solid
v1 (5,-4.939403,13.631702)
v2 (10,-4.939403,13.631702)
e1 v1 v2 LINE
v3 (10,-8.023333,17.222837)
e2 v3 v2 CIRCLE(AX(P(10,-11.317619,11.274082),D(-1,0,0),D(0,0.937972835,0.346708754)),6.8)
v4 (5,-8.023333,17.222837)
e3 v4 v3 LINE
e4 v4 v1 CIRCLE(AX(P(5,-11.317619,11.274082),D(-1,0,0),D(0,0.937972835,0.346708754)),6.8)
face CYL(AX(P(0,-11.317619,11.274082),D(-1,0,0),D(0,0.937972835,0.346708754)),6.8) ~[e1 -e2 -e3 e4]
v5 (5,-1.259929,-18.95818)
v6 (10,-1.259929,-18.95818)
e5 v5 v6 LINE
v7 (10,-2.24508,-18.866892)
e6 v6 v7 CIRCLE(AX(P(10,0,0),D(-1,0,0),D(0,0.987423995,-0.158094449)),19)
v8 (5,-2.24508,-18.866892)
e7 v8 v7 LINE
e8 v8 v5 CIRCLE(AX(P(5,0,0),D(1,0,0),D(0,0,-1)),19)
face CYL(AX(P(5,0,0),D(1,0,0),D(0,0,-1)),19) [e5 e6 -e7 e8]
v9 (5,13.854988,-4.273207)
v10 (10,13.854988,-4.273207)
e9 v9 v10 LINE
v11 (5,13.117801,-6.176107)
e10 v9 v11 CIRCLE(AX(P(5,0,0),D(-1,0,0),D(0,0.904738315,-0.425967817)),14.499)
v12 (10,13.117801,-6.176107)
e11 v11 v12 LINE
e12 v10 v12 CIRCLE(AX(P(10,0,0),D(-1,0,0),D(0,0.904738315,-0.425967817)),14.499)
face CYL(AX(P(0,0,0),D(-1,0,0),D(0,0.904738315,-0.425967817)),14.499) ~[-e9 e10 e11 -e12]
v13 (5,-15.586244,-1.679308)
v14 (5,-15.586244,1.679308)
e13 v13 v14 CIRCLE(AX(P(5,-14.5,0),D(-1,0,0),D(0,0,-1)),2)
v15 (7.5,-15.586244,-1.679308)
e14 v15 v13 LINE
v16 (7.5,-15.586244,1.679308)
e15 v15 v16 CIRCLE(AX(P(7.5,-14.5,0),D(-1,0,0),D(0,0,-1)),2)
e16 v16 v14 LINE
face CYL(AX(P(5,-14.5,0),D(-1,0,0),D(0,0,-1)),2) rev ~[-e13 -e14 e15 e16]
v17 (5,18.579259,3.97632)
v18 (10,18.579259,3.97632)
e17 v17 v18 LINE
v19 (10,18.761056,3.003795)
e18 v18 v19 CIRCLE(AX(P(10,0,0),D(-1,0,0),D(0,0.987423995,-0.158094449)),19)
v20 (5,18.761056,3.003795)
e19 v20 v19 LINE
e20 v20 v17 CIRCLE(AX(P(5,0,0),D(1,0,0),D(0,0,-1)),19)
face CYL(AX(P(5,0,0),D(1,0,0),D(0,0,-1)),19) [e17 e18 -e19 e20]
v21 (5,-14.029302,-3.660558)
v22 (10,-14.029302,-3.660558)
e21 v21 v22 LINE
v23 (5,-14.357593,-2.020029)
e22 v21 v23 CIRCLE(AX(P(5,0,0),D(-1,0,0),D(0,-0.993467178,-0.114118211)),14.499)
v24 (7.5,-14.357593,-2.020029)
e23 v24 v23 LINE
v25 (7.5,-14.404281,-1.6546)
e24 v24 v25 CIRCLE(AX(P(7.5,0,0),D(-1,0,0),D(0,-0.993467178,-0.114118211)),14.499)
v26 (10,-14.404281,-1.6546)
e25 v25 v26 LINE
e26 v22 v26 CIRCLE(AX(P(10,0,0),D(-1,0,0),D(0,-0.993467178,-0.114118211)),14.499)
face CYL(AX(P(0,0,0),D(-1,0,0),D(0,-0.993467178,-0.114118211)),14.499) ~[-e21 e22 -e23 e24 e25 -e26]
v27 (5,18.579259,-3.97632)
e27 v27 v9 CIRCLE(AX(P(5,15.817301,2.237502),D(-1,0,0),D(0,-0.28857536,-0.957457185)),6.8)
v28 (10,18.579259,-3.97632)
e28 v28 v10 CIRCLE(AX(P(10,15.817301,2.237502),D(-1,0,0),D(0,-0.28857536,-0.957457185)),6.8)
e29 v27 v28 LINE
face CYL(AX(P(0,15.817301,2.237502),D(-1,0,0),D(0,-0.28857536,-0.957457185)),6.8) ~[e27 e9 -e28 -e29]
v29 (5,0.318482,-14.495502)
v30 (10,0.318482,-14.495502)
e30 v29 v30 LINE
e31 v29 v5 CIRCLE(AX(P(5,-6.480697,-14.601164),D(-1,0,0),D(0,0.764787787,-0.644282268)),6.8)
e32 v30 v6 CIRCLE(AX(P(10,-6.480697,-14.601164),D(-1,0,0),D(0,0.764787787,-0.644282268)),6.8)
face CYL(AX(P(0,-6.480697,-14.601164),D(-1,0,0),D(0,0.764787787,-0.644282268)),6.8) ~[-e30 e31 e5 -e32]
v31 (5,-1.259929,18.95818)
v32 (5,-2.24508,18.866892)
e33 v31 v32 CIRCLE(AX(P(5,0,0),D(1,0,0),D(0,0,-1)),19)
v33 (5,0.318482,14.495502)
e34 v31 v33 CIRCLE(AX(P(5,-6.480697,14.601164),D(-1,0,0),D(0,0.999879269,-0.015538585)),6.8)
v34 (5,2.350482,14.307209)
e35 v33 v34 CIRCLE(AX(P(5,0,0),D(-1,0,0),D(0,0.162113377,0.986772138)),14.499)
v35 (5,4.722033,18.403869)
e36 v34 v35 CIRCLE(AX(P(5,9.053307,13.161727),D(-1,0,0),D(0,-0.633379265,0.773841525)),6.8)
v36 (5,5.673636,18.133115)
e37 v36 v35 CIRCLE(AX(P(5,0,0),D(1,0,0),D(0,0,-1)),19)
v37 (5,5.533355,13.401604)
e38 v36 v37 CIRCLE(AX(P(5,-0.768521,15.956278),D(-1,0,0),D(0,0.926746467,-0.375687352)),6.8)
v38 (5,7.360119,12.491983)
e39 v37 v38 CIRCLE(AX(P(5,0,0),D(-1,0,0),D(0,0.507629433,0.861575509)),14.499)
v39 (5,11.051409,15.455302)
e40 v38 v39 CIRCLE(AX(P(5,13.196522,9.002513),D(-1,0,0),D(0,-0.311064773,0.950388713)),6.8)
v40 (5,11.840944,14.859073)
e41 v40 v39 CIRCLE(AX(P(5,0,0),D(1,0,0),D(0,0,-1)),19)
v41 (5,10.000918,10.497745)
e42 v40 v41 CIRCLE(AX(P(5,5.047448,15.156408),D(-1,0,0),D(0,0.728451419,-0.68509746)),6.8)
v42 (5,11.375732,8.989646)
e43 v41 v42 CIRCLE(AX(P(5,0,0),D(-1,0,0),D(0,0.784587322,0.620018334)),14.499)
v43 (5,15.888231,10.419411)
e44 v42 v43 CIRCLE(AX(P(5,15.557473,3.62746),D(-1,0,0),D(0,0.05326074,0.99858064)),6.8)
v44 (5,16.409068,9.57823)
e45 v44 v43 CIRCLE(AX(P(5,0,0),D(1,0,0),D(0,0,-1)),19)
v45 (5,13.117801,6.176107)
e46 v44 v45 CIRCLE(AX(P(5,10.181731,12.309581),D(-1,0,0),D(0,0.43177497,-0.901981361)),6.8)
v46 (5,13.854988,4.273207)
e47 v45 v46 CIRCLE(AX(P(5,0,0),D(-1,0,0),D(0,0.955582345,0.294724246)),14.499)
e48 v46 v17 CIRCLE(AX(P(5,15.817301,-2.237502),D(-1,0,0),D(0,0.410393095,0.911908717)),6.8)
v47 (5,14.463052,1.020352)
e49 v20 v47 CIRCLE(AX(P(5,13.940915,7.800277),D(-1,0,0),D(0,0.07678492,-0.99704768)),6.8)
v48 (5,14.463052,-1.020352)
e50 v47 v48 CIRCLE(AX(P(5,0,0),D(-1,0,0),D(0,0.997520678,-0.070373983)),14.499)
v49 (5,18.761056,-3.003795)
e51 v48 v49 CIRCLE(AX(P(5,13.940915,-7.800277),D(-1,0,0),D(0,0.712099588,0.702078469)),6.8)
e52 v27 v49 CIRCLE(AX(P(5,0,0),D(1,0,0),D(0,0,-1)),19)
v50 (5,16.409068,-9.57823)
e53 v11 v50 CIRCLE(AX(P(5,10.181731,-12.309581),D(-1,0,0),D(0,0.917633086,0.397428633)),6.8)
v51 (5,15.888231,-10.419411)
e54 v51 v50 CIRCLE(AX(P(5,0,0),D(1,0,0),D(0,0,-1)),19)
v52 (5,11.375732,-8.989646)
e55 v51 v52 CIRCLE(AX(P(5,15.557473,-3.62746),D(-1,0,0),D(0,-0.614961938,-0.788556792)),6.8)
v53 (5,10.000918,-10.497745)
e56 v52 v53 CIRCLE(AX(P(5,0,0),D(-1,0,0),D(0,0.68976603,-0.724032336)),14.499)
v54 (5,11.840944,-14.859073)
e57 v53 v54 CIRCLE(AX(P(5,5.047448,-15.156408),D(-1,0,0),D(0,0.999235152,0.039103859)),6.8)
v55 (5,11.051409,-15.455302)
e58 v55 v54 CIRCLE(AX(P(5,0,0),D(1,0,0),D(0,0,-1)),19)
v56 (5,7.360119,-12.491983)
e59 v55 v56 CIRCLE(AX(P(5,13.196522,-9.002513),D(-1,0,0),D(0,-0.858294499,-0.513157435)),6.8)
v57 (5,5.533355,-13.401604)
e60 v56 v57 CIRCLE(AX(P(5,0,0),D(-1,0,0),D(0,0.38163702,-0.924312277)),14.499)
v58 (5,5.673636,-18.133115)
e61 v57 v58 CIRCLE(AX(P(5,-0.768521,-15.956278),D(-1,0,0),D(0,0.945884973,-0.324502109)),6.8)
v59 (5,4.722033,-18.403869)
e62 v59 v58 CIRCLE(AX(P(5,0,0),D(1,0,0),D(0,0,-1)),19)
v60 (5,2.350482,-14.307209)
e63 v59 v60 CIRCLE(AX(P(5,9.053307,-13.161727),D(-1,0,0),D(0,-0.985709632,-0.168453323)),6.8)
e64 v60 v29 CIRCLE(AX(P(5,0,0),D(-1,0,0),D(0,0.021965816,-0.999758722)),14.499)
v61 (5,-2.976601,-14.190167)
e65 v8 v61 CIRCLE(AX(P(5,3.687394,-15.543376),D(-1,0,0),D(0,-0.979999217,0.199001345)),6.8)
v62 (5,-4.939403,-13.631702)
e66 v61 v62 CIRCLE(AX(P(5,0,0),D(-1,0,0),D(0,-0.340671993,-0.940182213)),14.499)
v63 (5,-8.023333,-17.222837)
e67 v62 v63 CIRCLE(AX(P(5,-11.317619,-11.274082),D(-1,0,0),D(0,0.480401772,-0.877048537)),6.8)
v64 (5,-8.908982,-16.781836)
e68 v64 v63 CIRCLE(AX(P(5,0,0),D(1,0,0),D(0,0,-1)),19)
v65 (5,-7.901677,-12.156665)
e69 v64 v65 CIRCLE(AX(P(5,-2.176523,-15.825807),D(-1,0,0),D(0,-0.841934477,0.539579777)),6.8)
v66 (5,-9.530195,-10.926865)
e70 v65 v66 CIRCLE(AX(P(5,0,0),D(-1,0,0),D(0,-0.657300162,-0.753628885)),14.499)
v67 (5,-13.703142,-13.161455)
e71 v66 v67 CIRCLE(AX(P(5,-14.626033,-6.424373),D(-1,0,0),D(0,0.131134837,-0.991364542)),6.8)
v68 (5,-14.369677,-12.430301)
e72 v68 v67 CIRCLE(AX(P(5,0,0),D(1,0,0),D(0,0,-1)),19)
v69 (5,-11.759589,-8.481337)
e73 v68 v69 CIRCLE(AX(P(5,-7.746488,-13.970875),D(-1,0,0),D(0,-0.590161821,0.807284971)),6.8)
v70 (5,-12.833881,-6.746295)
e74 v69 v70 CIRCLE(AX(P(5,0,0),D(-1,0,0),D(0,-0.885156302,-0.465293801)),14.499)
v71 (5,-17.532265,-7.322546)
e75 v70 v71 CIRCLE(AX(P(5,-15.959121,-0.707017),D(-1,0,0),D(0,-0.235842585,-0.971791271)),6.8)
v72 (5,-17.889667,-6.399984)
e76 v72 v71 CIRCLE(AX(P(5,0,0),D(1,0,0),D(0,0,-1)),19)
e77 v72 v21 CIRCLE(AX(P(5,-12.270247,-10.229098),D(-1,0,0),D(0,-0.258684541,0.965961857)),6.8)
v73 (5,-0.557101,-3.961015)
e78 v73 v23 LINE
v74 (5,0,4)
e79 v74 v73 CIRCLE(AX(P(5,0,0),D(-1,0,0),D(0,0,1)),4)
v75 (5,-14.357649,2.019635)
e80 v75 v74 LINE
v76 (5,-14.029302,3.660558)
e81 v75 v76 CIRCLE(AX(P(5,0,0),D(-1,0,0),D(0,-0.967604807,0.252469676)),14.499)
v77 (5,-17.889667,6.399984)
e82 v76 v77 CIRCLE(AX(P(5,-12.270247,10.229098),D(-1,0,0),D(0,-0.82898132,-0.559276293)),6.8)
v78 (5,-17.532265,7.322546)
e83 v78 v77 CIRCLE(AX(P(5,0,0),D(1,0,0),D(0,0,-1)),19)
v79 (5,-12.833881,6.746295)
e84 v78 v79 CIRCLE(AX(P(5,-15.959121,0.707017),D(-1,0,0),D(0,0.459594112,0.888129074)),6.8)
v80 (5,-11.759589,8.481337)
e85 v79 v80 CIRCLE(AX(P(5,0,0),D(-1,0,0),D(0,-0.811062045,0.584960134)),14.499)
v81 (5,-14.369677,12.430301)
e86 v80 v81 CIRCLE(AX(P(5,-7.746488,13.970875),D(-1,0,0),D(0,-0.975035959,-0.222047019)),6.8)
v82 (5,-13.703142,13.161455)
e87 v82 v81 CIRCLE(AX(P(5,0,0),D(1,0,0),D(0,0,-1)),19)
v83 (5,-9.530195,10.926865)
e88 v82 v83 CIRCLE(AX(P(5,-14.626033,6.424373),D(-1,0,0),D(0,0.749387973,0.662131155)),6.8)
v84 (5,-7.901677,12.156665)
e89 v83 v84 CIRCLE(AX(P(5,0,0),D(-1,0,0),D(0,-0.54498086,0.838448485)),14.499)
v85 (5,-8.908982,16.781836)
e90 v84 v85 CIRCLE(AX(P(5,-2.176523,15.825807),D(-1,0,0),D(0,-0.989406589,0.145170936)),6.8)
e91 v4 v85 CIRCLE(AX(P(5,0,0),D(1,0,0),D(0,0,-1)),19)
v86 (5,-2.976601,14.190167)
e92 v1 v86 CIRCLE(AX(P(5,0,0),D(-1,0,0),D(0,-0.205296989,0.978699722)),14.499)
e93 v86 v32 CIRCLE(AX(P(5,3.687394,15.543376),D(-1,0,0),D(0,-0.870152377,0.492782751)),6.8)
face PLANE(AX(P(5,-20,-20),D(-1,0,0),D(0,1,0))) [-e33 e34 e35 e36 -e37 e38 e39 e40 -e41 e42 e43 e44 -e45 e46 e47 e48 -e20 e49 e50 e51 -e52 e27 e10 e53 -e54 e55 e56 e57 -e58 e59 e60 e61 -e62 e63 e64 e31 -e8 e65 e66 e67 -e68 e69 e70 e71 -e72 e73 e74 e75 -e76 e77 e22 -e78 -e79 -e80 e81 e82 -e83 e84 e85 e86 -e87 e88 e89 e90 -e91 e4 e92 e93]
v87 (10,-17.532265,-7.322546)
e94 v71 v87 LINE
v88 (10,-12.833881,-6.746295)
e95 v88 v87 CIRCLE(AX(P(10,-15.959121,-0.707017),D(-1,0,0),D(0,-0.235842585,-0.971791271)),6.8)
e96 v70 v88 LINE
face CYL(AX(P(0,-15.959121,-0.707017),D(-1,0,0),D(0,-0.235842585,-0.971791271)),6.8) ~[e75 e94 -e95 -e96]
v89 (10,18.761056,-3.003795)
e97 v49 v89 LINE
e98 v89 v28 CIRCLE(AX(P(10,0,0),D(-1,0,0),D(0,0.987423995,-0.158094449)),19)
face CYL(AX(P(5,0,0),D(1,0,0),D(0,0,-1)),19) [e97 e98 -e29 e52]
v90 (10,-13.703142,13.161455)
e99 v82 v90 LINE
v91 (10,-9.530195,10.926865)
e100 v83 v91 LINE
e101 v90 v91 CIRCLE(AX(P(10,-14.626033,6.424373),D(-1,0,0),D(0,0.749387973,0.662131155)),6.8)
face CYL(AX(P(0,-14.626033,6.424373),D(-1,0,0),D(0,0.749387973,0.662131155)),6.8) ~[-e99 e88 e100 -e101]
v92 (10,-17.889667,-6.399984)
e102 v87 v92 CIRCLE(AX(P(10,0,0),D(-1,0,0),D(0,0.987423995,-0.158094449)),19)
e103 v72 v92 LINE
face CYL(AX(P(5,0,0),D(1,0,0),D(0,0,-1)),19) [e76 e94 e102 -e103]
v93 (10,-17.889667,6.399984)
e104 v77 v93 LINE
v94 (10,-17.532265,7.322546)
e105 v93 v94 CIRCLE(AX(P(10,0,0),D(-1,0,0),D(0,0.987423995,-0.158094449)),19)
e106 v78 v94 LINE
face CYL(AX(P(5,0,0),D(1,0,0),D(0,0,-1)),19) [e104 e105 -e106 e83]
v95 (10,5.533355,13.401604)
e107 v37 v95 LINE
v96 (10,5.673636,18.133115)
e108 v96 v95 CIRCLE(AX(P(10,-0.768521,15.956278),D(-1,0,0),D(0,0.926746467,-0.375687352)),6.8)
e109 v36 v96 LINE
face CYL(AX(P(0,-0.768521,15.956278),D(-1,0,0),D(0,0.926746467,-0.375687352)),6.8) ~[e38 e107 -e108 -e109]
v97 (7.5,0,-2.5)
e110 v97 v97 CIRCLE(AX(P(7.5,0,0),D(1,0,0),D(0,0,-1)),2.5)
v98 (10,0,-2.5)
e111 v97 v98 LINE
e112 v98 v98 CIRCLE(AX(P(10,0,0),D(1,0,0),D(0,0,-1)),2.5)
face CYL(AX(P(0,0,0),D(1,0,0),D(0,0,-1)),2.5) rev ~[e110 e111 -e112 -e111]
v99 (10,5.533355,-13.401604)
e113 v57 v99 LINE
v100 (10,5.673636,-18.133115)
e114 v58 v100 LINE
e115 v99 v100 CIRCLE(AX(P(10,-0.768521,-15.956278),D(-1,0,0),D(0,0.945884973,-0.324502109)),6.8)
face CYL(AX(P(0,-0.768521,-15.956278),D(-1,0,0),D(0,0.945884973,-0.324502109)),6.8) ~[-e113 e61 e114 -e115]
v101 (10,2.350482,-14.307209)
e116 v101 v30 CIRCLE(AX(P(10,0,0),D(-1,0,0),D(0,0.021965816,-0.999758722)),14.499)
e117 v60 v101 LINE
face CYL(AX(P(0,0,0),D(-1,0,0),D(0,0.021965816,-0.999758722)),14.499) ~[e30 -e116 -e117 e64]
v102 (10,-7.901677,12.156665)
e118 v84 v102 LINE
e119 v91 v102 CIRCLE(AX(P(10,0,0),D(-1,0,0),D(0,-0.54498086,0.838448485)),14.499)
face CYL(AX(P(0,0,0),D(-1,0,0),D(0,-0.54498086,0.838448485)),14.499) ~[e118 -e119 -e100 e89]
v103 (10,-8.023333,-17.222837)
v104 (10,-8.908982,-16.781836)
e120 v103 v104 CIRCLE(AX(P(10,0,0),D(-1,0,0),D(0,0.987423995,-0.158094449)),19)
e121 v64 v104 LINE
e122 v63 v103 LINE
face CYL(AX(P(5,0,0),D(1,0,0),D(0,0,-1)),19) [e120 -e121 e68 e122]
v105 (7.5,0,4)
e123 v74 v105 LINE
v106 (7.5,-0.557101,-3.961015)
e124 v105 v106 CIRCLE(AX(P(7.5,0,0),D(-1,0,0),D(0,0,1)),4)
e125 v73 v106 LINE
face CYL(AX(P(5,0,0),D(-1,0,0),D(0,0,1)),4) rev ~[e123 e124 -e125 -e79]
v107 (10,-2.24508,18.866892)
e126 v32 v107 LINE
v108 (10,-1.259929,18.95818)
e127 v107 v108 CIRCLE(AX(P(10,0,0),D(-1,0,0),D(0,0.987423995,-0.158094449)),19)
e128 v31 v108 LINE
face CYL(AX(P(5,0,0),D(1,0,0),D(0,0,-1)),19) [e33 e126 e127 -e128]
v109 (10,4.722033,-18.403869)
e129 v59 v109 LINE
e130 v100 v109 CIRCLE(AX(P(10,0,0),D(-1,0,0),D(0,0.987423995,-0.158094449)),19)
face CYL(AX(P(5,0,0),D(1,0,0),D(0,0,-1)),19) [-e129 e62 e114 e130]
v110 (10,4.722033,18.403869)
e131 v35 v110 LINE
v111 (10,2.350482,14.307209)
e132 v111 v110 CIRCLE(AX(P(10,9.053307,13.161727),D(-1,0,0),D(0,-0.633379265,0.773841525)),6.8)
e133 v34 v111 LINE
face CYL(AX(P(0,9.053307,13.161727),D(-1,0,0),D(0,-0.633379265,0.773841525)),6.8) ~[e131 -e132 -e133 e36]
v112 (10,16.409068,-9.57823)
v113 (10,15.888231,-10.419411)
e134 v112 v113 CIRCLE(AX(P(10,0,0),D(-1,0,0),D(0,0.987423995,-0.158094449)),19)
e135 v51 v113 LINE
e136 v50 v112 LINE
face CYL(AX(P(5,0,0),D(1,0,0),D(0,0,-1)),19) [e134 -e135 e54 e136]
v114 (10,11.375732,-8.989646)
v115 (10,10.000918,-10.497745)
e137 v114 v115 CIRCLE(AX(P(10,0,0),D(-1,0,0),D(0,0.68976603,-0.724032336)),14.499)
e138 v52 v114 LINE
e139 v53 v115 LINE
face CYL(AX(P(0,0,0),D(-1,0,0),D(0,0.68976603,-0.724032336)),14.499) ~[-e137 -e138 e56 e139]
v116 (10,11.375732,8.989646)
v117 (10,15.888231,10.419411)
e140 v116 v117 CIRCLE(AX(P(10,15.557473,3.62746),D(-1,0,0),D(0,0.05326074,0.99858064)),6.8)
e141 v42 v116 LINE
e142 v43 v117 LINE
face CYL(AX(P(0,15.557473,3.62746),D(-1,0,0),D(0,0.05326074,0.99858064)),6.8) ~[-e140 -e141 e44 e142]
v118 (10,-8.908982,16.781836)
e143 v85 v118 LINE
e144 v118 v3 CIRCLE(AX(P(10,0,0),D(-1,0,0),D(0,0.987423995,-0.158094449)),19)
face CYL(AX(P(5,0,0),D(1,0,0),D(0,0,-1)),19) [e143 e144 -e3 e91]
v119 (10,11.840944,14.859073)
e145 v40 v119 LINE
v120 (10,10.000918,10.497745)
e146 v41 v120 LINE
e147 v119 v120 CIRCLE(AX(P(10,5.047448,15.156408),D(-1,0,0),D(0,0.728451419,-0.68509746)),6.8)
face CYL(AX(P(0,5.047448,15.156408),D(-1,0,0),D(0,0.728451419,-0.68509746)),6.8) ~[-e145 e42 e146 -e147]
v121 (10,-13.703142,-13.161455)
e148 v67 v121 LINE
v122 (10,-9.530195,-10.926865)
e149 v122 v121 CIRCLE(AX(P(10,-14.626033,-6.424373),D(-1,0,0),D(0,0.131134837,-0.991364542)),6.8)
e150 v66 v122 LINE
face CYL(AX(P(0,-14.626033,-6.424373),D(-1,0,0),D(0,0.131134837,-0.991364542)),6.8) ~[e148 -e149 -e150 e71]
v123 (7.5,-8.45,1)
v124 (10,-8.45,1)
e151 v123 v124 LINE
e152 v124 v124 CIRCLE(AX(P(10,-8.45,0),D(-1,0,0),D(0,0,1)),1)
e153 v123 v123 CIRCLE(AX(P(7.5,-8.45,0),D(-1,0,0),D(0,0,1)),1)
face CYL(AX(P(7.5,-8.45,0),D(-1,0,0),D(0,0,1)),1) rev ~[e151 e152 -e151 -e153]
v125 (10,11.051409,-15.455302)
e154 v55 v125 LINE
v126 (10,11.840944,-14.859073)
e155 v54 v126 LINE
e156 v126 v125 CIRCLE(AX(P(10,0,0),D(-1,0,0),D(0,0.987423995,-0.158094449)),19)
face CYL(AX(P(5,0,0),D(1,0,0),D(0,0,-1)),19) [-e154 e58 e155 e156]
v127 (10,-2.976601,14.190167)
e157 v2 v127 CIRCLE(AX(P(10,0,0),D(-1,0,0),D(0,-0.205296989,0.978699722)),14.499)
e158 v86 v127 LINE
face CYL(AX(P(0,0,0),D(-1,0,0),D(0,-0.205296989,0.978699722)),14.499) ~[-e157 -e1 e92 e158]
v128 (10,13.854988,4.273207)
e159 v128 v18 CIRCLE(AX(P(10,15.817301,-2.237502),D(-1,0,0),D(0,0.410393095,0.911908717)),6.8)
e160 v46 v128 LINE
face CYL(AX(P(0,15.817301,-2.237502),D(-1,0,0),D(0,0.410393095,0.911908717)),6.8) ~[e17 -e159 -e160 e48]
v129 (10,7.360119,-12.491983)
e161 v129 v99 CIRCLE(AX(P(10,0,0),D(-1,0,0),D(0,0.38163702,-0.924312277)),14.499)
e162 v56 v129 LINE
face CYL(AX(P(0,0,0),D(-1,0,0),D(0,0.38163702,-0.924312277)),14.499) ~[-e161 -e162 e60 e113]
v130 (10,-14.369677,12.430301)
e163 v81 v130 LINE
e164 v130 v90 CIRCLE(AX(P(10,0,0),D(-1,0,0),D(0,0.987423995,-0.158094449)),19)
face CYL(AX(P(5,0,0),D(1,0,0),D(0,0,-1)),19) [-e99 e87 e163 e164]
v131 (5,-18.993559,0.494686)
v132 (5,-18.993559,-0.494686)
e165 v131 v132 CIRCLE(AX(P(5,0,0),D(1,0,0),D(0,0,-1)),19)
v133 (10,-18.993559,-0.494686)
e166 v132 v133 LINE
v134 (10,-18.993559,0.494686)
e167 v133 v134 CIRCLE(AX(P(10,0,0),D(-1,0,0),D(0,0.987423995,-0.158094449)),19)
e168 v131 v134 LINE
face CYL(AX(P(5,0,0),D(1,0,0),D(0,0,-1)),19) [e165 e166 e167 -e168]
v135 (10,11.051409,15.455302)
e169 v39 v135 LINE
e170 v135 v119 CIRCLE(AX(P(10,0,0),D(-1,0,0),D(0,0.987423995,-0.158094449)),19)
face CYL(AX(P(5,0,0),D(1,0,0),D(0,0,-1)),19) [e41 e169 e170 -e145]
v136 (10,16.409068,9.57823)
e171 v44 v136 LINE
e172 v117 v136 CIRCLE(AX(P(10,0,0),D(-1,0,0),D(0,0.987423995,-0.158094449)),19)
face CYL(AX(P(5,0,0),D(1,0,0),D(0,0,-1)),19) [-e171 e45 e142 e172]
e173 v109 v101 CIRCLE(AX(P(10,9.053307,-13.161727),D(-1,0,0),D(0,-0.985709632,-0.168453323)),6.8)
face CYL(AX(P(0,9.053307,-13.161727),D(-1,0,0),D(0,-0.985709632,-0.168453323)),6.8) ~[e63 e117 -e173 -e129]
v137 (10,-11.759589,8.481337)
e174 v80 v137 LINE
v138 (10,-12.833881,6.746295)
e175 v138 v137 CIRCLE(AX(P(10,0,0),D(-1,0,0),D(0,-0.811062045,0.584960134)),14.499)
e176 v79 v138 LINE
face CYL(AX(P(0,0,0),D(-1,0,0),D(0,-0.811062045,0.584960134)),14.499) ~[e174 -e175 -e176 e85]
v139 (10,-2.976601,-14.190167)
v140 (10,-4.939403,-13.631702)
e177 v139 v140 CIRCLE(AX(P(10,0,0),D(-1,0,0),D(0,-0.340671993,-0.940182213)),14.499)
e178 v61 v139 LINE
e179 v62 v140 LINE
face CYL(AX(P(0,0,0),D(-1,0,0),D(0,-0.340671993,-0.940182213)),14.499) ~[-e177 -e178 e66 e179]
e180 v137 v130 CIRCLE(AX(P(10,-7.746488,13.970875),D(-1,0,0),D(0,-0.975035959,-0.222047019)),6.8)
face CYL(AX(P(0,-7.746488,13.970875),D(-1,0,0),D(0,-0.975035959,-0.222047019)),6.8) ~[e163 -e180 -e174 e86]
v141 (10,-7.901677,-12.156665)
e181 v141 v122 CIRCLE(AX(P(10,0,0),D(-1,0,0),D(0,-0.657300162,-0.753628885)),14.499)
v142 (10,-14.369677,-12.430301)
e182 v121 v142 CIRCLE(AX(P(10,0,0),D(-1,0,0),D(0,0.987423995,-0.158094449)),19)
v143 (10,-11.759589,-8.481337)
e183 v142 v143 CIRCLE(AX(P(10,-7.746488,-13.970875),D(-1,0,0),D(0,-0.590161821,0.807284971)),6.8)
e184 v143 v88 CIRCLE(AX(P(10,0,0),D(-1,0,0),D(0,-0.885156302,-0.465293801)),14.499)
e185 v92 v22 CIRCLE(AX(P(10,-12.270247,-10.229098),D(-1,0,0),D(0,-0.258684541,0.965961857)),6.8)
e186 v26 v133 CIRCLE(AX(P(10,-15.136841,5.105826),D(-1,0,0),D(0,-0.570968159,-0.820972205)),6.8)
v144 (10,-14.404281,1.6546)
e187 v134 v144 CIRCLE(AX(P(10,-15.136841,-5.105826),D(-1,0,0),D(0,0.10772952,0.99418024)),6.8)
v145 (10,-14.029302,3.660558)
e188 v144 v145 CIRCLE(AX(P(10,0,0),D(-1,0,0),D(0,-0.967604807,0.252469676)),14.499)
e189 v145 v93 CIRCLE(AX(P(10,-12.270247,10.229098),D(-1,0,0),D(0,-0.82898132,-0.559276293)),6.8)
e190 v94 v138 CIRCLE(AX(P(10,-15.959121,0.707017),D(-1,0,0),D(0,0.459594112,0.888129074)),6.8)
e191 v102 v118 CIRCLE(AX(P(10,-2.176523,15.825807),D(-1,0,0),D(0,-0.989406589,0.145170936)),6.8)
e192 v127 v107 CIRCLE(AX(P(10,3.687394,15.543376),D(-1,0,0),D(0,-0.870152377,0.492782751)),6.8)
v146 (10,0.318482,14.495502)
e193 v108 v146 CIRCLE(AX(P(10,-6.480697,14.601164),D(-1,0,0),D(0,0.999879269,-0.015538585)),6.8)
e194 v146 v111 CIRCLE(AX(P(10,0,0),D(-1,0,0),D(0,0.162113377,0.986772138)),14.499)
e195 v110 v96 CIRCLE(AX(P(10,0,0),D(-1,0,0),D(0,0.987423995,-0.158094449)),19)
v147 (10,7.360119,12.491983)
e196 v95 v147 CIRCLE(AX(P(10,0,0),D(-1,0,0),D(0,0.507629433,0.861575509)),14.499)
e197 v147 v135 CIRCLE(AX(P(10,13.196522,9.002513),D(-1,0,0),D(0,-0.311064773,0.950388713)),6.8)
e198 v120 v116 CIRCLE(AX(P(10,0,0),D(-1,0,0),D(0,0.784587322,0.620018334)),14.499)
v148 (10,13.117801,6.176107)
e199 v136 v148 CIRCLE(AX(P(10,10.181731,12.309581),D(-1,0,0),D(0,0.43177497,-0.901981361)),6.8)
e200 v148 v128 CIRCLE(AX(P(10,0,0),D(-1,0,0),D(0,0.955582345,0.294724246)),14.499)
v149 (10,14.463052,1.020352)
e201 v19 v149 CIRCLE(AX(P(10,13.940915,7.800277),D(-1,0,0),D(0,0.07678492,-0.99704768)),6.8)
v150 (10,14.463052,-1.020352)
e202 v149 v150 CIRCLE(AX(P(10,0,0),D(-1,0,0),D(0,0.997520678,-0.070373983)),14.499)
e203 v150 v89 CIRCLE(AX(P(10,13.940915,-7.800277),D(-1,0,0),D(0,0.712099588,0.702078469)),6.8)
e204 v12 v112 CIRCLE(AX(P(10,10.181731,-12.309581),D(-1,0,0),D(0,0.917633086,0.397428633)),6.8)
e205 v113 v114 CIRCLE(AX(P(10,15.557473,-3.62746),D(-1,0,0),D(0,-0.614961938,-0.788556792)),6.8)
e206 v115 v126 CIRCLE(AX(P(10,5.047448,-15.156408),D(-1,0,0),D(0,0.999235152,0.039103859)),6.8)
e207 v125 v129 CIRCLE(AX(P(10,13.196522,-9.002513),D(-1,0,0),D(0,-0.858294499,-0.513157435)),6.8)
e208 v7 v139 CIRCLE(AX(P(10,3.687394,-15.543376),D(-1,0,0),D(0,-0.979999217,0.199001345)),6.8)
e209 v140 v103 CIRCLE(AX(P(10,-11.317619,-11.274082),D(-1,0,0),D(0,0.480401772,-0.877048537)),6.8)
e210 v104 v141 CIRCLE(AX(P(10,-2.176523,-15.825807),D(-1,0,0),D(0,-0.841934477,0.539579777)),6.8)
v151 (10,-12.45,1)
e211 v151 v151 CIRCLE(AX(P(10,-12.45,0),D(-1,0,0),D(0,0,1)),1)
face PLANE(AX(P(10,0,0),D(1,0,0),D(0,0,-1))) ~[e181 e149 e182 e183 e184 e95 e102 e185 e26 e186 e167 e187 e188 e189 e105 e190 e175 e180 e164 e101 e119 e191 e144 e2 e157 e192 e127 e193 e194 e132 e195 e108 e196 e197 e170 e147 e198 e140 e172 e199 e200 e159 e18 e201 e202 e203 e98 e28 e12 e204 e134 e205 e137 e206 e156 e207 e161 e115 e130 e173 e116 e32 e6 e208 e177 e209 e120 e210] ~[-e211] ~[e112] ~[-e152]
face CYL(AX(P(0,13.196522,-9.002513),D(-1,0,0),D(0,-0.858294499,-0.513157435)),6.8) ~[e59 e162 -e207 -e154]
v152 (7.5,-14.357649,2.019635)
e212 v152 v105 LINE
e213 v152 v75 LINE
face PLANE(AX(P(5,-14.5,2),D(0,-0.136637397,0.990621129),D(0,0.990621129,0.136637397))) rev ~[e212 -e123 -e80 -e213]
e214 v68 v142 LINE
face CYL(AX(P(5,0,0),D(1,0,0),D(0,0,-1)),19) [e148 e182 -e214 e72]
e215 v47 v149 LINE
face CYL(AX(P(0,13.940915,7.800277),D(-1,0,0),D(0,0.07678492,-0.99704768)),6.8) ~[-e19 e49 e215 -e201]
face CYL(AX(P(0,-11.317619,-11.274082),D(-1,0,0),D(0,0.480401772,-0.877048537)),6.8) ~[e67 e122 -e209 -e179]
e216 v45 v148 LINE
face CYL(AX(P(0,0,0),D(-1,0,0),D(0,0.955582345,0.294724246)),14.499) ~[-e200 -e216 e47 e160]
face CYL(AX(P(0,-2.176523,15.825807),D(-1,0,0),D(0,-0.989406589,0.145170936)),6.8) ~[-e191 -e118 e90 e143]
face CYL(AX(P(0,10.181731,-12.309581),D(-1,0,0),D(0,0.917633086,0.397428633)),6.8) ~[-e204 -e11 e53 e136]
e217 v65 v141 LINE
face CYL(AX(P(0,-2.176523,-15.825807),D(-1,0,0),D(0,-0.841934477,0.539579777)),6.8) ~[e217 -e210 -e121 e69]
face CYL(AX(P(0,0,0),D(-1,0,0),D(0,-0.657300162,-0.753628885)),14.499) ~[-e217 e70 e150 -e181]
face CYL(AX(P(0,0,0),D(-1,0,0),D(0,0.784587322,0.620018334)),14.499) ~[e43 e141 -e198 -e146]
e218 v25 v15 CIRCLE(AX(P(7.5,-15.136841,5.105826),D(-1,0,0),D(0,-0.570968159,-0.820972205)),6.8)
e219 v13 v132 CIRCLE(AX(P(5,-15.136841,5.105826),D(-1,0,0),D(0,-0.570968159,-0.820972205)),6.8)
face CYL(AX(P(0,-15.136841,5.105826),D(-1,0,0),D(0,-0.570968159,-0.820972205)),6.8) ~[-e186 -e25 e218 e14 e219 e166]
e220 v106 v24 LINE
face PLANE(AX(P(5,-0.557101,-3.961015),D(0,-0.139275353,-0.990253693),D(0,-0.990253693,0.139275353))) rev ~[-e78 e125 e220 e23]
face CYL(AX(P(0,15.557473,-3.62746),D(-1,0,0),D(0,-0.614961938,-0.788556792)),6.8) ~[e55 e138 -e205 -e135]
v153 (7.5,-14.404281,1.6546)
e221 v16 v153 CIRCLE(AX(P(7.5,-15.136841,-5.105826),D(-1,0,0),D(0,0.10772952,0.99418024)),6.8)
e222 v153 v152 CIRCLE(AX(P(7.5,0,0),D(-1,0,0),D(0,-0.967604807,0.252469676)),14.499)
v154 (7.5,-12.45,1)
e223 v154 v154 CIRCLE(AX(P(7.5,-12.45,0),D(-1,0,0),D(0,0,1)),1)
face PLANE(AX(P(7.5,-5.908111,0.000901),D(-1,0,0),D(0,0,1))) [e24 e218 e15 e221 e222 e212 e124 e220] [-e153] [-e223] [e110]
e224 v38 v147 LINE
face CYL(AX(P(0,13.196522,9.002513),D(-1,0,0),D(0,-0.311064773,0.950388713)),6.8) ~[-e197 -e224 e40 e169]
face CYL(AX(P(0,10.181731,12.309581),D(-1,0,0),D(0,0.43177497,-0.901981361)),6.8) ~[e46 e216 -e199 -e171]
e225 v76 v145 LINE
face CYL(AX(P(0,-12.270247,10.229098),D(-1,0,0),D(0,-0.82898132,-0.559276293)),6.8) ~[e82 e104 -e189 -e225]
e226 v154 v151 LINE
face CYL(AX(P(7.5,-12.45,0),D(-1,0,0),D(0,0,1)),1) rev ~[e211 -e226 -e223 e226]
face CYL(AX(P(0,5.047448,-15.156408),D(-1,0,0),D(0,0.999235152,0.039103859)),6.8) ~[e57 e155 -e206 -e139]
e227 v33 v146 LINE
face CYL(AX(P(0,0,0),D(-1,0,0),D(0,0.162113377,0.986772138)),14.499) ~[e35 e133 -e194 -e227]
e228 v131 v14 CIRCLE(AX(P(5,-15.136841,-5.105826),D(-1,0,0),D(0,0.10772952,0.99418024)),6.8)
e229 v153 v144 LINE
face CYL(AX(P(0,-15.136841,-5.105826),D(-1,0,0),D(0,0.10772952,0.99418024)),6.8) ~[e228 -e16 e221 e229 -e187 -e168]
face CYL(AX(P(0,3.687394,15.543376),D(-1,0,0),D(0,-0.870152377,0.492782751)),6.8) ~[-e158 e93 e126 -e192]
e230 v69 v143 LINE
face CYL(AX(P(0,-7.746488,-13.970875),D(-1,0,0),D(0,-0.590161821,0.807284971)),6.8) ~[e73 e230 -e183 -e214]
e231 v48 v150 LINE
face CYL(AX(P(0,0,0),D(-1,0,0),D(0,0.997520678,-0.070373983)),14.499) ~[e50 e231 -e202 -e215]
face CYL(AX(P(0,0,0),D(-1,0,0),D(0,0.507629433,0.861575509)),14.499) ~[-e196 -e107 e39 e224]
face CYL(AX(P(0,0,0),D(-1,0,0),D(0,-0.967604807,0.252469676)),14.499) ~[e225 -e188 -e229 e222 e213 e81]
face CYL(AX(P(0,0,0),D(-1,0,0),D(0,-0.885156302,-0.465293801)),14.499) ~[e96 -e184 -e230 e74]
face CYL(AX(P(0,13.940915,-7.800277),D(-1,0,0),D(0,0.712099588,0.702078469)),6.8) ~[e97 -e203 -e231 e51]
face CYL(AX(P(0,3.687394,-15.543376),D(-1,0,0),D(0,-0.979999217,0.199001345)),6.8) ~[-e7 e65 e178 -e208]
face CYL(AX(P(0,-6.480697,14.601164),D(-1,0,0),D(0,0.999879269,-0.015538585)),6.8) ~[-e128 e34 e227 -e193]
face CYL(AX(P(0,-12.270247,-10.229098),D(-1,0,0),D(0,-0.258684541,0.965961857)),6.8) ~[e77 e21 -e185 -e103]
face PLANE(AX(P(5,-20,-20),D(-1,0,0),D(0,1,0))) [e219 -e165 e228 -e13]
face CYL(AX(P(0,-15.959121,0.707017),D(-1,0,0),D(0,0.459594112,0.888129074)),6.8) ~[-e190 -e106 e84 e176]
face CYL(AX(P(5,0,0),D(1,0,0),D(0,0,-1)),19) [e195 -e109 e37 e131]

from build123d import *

# Parameters (mm, degrees)
BASPROSKE_W             = 10
BASPROSKE_H             = 19
TOOTHCUT_DEPTH          = 29.670542374
TEETHCUTS_COUNT         = 17
TEETHCUTS_ANGLE         = 338.823529412
BORSKE_R                = 2.5
BORE_DEPTH              = 50.0008636
CUT_EXTRUDE1_DEPTH      = 20
CUT_EXTRUDE1_DEPTH_BACK = 20
SKETCH1_W               = 10
SKETCH1_H               = 40
CUT_EXTRUDE3_DEPTH      = 2.5
SKETCH3_R               = 1
CUT_EXTRUDE4_DEPTH      = 27.95667967


with BuildPart() as part:
    # BasProSke → Base-Revolve (revolve)
    with BuildSketch(Plane(origin=(0, 0, 0), x_dir=(1, 0, 0), z_dir=(0, 1, 0))):
        with Locations((5, 9.5)):
            Rectangle(BASPROSKE_W, BASPROSKE_H)
    revolve(axis=Axis((-10, 0, 0), (1, 0, 0)))

    # TooCutSke → ToothCut (cut, through all)
    with BuildSketch(Plane(origin=(0, 0, 0), x_dir=(0, 0, -1), z_dir=(1, 0, 0))):
        with BuildLine():
            ThreePointArc((1.020352389, 14.463052306), (0, 14.499), (-1.020352389, 14.463052306))
            ThreePointArc((-1.020352389, 14.463052306), (-1.632621885, 16.804485203), (-3.026143023, 18.783192049))
            ThreePointArc((-3.026143023, 18.783192049), (0, 19.0254), (3.026143023, 18.783192049))
            ThreePointArc((3.026143023, 18.783192049), (1.632621885, 16.804485203), (1.020352389, 14.463052306))
        make_face()
    toothcut = extrude(amount=TOOTHCUT_DEPTH, mode=Mode.SUBTRACT)

    # TeethCuts: ToothCut ×17 about axis
    teethcuts_axis = Axis((-10, 0, 0), (1, 0, 0))
    for i in range(1, TEETHCUTS_COUNT):
        add(toothcut.rotate(teethcuts_axis, i * TEETHCUTS_ANGLE / (TEETHCUTS_COUNT - 1)), mode=Mode.SUBTRACT)

    # BorSke → Bore (cut, symmetric)
    with BuildSketch(Plane(origin=(0, 0, 0), x_dir=(0, 0, -1), z_dir=(1, 0, 0))):
        Circle(BORSKE_R)
    extrude(amount=BORE_DEPTH, both=True, mode=Mode.SUBTRACT)

    # Sketch1 → Cut-Extrude1 (cut, two sides: drawn at the far end of the back side and taken through both)
    with BuildSketch(Plane.XY.offset(-CUT_EXTRUDE1_DEPTH_BACK)):
        Rectangle(SKETCH1_W, SKETCH1_H)
    extrude(amount=CUT_EXTRUDE1_DEPTH + CUT_EXTRUDE1_DEPTH_BACK, mode=Mode.SUBTRACT)

    # Sketch2 → Cut-Extrude3 (cut)
    with BuildSketch(Plane.ZY.offset(-5)):
        with BuildLine():
            Line((2, -14.5), (4, 0))
            ThreePointArc((4, 0), (-0.279231906, 3.99024179), (-3.961014771, -0.557101411))
            Line((-3.961014771, -0.557101411), (-2, -14.5))
            ThreePointArc((-2, -14.5), (0, -16.5), (2, -14.5))
        make_face()
    extrude(amount=-CUT_EXTRUDE3_DEPTH, mode=Mode.SUBTRACT)

    # Sketch3 → Cut-Extrude4 (cut, through all)
    with BuildSketch(Plane.ZY.offset(-7.5)):
        with Locations((0, -12.45)):
            Circle(SKETCH3_R)
        with Locations((0, -8.45)):
            Circle(SKETCH3_R)
    extrude(amount=-CUT_EXTRUDE4_DEPTH, mode=Mode.SUBTRACT)


solid = part.part
